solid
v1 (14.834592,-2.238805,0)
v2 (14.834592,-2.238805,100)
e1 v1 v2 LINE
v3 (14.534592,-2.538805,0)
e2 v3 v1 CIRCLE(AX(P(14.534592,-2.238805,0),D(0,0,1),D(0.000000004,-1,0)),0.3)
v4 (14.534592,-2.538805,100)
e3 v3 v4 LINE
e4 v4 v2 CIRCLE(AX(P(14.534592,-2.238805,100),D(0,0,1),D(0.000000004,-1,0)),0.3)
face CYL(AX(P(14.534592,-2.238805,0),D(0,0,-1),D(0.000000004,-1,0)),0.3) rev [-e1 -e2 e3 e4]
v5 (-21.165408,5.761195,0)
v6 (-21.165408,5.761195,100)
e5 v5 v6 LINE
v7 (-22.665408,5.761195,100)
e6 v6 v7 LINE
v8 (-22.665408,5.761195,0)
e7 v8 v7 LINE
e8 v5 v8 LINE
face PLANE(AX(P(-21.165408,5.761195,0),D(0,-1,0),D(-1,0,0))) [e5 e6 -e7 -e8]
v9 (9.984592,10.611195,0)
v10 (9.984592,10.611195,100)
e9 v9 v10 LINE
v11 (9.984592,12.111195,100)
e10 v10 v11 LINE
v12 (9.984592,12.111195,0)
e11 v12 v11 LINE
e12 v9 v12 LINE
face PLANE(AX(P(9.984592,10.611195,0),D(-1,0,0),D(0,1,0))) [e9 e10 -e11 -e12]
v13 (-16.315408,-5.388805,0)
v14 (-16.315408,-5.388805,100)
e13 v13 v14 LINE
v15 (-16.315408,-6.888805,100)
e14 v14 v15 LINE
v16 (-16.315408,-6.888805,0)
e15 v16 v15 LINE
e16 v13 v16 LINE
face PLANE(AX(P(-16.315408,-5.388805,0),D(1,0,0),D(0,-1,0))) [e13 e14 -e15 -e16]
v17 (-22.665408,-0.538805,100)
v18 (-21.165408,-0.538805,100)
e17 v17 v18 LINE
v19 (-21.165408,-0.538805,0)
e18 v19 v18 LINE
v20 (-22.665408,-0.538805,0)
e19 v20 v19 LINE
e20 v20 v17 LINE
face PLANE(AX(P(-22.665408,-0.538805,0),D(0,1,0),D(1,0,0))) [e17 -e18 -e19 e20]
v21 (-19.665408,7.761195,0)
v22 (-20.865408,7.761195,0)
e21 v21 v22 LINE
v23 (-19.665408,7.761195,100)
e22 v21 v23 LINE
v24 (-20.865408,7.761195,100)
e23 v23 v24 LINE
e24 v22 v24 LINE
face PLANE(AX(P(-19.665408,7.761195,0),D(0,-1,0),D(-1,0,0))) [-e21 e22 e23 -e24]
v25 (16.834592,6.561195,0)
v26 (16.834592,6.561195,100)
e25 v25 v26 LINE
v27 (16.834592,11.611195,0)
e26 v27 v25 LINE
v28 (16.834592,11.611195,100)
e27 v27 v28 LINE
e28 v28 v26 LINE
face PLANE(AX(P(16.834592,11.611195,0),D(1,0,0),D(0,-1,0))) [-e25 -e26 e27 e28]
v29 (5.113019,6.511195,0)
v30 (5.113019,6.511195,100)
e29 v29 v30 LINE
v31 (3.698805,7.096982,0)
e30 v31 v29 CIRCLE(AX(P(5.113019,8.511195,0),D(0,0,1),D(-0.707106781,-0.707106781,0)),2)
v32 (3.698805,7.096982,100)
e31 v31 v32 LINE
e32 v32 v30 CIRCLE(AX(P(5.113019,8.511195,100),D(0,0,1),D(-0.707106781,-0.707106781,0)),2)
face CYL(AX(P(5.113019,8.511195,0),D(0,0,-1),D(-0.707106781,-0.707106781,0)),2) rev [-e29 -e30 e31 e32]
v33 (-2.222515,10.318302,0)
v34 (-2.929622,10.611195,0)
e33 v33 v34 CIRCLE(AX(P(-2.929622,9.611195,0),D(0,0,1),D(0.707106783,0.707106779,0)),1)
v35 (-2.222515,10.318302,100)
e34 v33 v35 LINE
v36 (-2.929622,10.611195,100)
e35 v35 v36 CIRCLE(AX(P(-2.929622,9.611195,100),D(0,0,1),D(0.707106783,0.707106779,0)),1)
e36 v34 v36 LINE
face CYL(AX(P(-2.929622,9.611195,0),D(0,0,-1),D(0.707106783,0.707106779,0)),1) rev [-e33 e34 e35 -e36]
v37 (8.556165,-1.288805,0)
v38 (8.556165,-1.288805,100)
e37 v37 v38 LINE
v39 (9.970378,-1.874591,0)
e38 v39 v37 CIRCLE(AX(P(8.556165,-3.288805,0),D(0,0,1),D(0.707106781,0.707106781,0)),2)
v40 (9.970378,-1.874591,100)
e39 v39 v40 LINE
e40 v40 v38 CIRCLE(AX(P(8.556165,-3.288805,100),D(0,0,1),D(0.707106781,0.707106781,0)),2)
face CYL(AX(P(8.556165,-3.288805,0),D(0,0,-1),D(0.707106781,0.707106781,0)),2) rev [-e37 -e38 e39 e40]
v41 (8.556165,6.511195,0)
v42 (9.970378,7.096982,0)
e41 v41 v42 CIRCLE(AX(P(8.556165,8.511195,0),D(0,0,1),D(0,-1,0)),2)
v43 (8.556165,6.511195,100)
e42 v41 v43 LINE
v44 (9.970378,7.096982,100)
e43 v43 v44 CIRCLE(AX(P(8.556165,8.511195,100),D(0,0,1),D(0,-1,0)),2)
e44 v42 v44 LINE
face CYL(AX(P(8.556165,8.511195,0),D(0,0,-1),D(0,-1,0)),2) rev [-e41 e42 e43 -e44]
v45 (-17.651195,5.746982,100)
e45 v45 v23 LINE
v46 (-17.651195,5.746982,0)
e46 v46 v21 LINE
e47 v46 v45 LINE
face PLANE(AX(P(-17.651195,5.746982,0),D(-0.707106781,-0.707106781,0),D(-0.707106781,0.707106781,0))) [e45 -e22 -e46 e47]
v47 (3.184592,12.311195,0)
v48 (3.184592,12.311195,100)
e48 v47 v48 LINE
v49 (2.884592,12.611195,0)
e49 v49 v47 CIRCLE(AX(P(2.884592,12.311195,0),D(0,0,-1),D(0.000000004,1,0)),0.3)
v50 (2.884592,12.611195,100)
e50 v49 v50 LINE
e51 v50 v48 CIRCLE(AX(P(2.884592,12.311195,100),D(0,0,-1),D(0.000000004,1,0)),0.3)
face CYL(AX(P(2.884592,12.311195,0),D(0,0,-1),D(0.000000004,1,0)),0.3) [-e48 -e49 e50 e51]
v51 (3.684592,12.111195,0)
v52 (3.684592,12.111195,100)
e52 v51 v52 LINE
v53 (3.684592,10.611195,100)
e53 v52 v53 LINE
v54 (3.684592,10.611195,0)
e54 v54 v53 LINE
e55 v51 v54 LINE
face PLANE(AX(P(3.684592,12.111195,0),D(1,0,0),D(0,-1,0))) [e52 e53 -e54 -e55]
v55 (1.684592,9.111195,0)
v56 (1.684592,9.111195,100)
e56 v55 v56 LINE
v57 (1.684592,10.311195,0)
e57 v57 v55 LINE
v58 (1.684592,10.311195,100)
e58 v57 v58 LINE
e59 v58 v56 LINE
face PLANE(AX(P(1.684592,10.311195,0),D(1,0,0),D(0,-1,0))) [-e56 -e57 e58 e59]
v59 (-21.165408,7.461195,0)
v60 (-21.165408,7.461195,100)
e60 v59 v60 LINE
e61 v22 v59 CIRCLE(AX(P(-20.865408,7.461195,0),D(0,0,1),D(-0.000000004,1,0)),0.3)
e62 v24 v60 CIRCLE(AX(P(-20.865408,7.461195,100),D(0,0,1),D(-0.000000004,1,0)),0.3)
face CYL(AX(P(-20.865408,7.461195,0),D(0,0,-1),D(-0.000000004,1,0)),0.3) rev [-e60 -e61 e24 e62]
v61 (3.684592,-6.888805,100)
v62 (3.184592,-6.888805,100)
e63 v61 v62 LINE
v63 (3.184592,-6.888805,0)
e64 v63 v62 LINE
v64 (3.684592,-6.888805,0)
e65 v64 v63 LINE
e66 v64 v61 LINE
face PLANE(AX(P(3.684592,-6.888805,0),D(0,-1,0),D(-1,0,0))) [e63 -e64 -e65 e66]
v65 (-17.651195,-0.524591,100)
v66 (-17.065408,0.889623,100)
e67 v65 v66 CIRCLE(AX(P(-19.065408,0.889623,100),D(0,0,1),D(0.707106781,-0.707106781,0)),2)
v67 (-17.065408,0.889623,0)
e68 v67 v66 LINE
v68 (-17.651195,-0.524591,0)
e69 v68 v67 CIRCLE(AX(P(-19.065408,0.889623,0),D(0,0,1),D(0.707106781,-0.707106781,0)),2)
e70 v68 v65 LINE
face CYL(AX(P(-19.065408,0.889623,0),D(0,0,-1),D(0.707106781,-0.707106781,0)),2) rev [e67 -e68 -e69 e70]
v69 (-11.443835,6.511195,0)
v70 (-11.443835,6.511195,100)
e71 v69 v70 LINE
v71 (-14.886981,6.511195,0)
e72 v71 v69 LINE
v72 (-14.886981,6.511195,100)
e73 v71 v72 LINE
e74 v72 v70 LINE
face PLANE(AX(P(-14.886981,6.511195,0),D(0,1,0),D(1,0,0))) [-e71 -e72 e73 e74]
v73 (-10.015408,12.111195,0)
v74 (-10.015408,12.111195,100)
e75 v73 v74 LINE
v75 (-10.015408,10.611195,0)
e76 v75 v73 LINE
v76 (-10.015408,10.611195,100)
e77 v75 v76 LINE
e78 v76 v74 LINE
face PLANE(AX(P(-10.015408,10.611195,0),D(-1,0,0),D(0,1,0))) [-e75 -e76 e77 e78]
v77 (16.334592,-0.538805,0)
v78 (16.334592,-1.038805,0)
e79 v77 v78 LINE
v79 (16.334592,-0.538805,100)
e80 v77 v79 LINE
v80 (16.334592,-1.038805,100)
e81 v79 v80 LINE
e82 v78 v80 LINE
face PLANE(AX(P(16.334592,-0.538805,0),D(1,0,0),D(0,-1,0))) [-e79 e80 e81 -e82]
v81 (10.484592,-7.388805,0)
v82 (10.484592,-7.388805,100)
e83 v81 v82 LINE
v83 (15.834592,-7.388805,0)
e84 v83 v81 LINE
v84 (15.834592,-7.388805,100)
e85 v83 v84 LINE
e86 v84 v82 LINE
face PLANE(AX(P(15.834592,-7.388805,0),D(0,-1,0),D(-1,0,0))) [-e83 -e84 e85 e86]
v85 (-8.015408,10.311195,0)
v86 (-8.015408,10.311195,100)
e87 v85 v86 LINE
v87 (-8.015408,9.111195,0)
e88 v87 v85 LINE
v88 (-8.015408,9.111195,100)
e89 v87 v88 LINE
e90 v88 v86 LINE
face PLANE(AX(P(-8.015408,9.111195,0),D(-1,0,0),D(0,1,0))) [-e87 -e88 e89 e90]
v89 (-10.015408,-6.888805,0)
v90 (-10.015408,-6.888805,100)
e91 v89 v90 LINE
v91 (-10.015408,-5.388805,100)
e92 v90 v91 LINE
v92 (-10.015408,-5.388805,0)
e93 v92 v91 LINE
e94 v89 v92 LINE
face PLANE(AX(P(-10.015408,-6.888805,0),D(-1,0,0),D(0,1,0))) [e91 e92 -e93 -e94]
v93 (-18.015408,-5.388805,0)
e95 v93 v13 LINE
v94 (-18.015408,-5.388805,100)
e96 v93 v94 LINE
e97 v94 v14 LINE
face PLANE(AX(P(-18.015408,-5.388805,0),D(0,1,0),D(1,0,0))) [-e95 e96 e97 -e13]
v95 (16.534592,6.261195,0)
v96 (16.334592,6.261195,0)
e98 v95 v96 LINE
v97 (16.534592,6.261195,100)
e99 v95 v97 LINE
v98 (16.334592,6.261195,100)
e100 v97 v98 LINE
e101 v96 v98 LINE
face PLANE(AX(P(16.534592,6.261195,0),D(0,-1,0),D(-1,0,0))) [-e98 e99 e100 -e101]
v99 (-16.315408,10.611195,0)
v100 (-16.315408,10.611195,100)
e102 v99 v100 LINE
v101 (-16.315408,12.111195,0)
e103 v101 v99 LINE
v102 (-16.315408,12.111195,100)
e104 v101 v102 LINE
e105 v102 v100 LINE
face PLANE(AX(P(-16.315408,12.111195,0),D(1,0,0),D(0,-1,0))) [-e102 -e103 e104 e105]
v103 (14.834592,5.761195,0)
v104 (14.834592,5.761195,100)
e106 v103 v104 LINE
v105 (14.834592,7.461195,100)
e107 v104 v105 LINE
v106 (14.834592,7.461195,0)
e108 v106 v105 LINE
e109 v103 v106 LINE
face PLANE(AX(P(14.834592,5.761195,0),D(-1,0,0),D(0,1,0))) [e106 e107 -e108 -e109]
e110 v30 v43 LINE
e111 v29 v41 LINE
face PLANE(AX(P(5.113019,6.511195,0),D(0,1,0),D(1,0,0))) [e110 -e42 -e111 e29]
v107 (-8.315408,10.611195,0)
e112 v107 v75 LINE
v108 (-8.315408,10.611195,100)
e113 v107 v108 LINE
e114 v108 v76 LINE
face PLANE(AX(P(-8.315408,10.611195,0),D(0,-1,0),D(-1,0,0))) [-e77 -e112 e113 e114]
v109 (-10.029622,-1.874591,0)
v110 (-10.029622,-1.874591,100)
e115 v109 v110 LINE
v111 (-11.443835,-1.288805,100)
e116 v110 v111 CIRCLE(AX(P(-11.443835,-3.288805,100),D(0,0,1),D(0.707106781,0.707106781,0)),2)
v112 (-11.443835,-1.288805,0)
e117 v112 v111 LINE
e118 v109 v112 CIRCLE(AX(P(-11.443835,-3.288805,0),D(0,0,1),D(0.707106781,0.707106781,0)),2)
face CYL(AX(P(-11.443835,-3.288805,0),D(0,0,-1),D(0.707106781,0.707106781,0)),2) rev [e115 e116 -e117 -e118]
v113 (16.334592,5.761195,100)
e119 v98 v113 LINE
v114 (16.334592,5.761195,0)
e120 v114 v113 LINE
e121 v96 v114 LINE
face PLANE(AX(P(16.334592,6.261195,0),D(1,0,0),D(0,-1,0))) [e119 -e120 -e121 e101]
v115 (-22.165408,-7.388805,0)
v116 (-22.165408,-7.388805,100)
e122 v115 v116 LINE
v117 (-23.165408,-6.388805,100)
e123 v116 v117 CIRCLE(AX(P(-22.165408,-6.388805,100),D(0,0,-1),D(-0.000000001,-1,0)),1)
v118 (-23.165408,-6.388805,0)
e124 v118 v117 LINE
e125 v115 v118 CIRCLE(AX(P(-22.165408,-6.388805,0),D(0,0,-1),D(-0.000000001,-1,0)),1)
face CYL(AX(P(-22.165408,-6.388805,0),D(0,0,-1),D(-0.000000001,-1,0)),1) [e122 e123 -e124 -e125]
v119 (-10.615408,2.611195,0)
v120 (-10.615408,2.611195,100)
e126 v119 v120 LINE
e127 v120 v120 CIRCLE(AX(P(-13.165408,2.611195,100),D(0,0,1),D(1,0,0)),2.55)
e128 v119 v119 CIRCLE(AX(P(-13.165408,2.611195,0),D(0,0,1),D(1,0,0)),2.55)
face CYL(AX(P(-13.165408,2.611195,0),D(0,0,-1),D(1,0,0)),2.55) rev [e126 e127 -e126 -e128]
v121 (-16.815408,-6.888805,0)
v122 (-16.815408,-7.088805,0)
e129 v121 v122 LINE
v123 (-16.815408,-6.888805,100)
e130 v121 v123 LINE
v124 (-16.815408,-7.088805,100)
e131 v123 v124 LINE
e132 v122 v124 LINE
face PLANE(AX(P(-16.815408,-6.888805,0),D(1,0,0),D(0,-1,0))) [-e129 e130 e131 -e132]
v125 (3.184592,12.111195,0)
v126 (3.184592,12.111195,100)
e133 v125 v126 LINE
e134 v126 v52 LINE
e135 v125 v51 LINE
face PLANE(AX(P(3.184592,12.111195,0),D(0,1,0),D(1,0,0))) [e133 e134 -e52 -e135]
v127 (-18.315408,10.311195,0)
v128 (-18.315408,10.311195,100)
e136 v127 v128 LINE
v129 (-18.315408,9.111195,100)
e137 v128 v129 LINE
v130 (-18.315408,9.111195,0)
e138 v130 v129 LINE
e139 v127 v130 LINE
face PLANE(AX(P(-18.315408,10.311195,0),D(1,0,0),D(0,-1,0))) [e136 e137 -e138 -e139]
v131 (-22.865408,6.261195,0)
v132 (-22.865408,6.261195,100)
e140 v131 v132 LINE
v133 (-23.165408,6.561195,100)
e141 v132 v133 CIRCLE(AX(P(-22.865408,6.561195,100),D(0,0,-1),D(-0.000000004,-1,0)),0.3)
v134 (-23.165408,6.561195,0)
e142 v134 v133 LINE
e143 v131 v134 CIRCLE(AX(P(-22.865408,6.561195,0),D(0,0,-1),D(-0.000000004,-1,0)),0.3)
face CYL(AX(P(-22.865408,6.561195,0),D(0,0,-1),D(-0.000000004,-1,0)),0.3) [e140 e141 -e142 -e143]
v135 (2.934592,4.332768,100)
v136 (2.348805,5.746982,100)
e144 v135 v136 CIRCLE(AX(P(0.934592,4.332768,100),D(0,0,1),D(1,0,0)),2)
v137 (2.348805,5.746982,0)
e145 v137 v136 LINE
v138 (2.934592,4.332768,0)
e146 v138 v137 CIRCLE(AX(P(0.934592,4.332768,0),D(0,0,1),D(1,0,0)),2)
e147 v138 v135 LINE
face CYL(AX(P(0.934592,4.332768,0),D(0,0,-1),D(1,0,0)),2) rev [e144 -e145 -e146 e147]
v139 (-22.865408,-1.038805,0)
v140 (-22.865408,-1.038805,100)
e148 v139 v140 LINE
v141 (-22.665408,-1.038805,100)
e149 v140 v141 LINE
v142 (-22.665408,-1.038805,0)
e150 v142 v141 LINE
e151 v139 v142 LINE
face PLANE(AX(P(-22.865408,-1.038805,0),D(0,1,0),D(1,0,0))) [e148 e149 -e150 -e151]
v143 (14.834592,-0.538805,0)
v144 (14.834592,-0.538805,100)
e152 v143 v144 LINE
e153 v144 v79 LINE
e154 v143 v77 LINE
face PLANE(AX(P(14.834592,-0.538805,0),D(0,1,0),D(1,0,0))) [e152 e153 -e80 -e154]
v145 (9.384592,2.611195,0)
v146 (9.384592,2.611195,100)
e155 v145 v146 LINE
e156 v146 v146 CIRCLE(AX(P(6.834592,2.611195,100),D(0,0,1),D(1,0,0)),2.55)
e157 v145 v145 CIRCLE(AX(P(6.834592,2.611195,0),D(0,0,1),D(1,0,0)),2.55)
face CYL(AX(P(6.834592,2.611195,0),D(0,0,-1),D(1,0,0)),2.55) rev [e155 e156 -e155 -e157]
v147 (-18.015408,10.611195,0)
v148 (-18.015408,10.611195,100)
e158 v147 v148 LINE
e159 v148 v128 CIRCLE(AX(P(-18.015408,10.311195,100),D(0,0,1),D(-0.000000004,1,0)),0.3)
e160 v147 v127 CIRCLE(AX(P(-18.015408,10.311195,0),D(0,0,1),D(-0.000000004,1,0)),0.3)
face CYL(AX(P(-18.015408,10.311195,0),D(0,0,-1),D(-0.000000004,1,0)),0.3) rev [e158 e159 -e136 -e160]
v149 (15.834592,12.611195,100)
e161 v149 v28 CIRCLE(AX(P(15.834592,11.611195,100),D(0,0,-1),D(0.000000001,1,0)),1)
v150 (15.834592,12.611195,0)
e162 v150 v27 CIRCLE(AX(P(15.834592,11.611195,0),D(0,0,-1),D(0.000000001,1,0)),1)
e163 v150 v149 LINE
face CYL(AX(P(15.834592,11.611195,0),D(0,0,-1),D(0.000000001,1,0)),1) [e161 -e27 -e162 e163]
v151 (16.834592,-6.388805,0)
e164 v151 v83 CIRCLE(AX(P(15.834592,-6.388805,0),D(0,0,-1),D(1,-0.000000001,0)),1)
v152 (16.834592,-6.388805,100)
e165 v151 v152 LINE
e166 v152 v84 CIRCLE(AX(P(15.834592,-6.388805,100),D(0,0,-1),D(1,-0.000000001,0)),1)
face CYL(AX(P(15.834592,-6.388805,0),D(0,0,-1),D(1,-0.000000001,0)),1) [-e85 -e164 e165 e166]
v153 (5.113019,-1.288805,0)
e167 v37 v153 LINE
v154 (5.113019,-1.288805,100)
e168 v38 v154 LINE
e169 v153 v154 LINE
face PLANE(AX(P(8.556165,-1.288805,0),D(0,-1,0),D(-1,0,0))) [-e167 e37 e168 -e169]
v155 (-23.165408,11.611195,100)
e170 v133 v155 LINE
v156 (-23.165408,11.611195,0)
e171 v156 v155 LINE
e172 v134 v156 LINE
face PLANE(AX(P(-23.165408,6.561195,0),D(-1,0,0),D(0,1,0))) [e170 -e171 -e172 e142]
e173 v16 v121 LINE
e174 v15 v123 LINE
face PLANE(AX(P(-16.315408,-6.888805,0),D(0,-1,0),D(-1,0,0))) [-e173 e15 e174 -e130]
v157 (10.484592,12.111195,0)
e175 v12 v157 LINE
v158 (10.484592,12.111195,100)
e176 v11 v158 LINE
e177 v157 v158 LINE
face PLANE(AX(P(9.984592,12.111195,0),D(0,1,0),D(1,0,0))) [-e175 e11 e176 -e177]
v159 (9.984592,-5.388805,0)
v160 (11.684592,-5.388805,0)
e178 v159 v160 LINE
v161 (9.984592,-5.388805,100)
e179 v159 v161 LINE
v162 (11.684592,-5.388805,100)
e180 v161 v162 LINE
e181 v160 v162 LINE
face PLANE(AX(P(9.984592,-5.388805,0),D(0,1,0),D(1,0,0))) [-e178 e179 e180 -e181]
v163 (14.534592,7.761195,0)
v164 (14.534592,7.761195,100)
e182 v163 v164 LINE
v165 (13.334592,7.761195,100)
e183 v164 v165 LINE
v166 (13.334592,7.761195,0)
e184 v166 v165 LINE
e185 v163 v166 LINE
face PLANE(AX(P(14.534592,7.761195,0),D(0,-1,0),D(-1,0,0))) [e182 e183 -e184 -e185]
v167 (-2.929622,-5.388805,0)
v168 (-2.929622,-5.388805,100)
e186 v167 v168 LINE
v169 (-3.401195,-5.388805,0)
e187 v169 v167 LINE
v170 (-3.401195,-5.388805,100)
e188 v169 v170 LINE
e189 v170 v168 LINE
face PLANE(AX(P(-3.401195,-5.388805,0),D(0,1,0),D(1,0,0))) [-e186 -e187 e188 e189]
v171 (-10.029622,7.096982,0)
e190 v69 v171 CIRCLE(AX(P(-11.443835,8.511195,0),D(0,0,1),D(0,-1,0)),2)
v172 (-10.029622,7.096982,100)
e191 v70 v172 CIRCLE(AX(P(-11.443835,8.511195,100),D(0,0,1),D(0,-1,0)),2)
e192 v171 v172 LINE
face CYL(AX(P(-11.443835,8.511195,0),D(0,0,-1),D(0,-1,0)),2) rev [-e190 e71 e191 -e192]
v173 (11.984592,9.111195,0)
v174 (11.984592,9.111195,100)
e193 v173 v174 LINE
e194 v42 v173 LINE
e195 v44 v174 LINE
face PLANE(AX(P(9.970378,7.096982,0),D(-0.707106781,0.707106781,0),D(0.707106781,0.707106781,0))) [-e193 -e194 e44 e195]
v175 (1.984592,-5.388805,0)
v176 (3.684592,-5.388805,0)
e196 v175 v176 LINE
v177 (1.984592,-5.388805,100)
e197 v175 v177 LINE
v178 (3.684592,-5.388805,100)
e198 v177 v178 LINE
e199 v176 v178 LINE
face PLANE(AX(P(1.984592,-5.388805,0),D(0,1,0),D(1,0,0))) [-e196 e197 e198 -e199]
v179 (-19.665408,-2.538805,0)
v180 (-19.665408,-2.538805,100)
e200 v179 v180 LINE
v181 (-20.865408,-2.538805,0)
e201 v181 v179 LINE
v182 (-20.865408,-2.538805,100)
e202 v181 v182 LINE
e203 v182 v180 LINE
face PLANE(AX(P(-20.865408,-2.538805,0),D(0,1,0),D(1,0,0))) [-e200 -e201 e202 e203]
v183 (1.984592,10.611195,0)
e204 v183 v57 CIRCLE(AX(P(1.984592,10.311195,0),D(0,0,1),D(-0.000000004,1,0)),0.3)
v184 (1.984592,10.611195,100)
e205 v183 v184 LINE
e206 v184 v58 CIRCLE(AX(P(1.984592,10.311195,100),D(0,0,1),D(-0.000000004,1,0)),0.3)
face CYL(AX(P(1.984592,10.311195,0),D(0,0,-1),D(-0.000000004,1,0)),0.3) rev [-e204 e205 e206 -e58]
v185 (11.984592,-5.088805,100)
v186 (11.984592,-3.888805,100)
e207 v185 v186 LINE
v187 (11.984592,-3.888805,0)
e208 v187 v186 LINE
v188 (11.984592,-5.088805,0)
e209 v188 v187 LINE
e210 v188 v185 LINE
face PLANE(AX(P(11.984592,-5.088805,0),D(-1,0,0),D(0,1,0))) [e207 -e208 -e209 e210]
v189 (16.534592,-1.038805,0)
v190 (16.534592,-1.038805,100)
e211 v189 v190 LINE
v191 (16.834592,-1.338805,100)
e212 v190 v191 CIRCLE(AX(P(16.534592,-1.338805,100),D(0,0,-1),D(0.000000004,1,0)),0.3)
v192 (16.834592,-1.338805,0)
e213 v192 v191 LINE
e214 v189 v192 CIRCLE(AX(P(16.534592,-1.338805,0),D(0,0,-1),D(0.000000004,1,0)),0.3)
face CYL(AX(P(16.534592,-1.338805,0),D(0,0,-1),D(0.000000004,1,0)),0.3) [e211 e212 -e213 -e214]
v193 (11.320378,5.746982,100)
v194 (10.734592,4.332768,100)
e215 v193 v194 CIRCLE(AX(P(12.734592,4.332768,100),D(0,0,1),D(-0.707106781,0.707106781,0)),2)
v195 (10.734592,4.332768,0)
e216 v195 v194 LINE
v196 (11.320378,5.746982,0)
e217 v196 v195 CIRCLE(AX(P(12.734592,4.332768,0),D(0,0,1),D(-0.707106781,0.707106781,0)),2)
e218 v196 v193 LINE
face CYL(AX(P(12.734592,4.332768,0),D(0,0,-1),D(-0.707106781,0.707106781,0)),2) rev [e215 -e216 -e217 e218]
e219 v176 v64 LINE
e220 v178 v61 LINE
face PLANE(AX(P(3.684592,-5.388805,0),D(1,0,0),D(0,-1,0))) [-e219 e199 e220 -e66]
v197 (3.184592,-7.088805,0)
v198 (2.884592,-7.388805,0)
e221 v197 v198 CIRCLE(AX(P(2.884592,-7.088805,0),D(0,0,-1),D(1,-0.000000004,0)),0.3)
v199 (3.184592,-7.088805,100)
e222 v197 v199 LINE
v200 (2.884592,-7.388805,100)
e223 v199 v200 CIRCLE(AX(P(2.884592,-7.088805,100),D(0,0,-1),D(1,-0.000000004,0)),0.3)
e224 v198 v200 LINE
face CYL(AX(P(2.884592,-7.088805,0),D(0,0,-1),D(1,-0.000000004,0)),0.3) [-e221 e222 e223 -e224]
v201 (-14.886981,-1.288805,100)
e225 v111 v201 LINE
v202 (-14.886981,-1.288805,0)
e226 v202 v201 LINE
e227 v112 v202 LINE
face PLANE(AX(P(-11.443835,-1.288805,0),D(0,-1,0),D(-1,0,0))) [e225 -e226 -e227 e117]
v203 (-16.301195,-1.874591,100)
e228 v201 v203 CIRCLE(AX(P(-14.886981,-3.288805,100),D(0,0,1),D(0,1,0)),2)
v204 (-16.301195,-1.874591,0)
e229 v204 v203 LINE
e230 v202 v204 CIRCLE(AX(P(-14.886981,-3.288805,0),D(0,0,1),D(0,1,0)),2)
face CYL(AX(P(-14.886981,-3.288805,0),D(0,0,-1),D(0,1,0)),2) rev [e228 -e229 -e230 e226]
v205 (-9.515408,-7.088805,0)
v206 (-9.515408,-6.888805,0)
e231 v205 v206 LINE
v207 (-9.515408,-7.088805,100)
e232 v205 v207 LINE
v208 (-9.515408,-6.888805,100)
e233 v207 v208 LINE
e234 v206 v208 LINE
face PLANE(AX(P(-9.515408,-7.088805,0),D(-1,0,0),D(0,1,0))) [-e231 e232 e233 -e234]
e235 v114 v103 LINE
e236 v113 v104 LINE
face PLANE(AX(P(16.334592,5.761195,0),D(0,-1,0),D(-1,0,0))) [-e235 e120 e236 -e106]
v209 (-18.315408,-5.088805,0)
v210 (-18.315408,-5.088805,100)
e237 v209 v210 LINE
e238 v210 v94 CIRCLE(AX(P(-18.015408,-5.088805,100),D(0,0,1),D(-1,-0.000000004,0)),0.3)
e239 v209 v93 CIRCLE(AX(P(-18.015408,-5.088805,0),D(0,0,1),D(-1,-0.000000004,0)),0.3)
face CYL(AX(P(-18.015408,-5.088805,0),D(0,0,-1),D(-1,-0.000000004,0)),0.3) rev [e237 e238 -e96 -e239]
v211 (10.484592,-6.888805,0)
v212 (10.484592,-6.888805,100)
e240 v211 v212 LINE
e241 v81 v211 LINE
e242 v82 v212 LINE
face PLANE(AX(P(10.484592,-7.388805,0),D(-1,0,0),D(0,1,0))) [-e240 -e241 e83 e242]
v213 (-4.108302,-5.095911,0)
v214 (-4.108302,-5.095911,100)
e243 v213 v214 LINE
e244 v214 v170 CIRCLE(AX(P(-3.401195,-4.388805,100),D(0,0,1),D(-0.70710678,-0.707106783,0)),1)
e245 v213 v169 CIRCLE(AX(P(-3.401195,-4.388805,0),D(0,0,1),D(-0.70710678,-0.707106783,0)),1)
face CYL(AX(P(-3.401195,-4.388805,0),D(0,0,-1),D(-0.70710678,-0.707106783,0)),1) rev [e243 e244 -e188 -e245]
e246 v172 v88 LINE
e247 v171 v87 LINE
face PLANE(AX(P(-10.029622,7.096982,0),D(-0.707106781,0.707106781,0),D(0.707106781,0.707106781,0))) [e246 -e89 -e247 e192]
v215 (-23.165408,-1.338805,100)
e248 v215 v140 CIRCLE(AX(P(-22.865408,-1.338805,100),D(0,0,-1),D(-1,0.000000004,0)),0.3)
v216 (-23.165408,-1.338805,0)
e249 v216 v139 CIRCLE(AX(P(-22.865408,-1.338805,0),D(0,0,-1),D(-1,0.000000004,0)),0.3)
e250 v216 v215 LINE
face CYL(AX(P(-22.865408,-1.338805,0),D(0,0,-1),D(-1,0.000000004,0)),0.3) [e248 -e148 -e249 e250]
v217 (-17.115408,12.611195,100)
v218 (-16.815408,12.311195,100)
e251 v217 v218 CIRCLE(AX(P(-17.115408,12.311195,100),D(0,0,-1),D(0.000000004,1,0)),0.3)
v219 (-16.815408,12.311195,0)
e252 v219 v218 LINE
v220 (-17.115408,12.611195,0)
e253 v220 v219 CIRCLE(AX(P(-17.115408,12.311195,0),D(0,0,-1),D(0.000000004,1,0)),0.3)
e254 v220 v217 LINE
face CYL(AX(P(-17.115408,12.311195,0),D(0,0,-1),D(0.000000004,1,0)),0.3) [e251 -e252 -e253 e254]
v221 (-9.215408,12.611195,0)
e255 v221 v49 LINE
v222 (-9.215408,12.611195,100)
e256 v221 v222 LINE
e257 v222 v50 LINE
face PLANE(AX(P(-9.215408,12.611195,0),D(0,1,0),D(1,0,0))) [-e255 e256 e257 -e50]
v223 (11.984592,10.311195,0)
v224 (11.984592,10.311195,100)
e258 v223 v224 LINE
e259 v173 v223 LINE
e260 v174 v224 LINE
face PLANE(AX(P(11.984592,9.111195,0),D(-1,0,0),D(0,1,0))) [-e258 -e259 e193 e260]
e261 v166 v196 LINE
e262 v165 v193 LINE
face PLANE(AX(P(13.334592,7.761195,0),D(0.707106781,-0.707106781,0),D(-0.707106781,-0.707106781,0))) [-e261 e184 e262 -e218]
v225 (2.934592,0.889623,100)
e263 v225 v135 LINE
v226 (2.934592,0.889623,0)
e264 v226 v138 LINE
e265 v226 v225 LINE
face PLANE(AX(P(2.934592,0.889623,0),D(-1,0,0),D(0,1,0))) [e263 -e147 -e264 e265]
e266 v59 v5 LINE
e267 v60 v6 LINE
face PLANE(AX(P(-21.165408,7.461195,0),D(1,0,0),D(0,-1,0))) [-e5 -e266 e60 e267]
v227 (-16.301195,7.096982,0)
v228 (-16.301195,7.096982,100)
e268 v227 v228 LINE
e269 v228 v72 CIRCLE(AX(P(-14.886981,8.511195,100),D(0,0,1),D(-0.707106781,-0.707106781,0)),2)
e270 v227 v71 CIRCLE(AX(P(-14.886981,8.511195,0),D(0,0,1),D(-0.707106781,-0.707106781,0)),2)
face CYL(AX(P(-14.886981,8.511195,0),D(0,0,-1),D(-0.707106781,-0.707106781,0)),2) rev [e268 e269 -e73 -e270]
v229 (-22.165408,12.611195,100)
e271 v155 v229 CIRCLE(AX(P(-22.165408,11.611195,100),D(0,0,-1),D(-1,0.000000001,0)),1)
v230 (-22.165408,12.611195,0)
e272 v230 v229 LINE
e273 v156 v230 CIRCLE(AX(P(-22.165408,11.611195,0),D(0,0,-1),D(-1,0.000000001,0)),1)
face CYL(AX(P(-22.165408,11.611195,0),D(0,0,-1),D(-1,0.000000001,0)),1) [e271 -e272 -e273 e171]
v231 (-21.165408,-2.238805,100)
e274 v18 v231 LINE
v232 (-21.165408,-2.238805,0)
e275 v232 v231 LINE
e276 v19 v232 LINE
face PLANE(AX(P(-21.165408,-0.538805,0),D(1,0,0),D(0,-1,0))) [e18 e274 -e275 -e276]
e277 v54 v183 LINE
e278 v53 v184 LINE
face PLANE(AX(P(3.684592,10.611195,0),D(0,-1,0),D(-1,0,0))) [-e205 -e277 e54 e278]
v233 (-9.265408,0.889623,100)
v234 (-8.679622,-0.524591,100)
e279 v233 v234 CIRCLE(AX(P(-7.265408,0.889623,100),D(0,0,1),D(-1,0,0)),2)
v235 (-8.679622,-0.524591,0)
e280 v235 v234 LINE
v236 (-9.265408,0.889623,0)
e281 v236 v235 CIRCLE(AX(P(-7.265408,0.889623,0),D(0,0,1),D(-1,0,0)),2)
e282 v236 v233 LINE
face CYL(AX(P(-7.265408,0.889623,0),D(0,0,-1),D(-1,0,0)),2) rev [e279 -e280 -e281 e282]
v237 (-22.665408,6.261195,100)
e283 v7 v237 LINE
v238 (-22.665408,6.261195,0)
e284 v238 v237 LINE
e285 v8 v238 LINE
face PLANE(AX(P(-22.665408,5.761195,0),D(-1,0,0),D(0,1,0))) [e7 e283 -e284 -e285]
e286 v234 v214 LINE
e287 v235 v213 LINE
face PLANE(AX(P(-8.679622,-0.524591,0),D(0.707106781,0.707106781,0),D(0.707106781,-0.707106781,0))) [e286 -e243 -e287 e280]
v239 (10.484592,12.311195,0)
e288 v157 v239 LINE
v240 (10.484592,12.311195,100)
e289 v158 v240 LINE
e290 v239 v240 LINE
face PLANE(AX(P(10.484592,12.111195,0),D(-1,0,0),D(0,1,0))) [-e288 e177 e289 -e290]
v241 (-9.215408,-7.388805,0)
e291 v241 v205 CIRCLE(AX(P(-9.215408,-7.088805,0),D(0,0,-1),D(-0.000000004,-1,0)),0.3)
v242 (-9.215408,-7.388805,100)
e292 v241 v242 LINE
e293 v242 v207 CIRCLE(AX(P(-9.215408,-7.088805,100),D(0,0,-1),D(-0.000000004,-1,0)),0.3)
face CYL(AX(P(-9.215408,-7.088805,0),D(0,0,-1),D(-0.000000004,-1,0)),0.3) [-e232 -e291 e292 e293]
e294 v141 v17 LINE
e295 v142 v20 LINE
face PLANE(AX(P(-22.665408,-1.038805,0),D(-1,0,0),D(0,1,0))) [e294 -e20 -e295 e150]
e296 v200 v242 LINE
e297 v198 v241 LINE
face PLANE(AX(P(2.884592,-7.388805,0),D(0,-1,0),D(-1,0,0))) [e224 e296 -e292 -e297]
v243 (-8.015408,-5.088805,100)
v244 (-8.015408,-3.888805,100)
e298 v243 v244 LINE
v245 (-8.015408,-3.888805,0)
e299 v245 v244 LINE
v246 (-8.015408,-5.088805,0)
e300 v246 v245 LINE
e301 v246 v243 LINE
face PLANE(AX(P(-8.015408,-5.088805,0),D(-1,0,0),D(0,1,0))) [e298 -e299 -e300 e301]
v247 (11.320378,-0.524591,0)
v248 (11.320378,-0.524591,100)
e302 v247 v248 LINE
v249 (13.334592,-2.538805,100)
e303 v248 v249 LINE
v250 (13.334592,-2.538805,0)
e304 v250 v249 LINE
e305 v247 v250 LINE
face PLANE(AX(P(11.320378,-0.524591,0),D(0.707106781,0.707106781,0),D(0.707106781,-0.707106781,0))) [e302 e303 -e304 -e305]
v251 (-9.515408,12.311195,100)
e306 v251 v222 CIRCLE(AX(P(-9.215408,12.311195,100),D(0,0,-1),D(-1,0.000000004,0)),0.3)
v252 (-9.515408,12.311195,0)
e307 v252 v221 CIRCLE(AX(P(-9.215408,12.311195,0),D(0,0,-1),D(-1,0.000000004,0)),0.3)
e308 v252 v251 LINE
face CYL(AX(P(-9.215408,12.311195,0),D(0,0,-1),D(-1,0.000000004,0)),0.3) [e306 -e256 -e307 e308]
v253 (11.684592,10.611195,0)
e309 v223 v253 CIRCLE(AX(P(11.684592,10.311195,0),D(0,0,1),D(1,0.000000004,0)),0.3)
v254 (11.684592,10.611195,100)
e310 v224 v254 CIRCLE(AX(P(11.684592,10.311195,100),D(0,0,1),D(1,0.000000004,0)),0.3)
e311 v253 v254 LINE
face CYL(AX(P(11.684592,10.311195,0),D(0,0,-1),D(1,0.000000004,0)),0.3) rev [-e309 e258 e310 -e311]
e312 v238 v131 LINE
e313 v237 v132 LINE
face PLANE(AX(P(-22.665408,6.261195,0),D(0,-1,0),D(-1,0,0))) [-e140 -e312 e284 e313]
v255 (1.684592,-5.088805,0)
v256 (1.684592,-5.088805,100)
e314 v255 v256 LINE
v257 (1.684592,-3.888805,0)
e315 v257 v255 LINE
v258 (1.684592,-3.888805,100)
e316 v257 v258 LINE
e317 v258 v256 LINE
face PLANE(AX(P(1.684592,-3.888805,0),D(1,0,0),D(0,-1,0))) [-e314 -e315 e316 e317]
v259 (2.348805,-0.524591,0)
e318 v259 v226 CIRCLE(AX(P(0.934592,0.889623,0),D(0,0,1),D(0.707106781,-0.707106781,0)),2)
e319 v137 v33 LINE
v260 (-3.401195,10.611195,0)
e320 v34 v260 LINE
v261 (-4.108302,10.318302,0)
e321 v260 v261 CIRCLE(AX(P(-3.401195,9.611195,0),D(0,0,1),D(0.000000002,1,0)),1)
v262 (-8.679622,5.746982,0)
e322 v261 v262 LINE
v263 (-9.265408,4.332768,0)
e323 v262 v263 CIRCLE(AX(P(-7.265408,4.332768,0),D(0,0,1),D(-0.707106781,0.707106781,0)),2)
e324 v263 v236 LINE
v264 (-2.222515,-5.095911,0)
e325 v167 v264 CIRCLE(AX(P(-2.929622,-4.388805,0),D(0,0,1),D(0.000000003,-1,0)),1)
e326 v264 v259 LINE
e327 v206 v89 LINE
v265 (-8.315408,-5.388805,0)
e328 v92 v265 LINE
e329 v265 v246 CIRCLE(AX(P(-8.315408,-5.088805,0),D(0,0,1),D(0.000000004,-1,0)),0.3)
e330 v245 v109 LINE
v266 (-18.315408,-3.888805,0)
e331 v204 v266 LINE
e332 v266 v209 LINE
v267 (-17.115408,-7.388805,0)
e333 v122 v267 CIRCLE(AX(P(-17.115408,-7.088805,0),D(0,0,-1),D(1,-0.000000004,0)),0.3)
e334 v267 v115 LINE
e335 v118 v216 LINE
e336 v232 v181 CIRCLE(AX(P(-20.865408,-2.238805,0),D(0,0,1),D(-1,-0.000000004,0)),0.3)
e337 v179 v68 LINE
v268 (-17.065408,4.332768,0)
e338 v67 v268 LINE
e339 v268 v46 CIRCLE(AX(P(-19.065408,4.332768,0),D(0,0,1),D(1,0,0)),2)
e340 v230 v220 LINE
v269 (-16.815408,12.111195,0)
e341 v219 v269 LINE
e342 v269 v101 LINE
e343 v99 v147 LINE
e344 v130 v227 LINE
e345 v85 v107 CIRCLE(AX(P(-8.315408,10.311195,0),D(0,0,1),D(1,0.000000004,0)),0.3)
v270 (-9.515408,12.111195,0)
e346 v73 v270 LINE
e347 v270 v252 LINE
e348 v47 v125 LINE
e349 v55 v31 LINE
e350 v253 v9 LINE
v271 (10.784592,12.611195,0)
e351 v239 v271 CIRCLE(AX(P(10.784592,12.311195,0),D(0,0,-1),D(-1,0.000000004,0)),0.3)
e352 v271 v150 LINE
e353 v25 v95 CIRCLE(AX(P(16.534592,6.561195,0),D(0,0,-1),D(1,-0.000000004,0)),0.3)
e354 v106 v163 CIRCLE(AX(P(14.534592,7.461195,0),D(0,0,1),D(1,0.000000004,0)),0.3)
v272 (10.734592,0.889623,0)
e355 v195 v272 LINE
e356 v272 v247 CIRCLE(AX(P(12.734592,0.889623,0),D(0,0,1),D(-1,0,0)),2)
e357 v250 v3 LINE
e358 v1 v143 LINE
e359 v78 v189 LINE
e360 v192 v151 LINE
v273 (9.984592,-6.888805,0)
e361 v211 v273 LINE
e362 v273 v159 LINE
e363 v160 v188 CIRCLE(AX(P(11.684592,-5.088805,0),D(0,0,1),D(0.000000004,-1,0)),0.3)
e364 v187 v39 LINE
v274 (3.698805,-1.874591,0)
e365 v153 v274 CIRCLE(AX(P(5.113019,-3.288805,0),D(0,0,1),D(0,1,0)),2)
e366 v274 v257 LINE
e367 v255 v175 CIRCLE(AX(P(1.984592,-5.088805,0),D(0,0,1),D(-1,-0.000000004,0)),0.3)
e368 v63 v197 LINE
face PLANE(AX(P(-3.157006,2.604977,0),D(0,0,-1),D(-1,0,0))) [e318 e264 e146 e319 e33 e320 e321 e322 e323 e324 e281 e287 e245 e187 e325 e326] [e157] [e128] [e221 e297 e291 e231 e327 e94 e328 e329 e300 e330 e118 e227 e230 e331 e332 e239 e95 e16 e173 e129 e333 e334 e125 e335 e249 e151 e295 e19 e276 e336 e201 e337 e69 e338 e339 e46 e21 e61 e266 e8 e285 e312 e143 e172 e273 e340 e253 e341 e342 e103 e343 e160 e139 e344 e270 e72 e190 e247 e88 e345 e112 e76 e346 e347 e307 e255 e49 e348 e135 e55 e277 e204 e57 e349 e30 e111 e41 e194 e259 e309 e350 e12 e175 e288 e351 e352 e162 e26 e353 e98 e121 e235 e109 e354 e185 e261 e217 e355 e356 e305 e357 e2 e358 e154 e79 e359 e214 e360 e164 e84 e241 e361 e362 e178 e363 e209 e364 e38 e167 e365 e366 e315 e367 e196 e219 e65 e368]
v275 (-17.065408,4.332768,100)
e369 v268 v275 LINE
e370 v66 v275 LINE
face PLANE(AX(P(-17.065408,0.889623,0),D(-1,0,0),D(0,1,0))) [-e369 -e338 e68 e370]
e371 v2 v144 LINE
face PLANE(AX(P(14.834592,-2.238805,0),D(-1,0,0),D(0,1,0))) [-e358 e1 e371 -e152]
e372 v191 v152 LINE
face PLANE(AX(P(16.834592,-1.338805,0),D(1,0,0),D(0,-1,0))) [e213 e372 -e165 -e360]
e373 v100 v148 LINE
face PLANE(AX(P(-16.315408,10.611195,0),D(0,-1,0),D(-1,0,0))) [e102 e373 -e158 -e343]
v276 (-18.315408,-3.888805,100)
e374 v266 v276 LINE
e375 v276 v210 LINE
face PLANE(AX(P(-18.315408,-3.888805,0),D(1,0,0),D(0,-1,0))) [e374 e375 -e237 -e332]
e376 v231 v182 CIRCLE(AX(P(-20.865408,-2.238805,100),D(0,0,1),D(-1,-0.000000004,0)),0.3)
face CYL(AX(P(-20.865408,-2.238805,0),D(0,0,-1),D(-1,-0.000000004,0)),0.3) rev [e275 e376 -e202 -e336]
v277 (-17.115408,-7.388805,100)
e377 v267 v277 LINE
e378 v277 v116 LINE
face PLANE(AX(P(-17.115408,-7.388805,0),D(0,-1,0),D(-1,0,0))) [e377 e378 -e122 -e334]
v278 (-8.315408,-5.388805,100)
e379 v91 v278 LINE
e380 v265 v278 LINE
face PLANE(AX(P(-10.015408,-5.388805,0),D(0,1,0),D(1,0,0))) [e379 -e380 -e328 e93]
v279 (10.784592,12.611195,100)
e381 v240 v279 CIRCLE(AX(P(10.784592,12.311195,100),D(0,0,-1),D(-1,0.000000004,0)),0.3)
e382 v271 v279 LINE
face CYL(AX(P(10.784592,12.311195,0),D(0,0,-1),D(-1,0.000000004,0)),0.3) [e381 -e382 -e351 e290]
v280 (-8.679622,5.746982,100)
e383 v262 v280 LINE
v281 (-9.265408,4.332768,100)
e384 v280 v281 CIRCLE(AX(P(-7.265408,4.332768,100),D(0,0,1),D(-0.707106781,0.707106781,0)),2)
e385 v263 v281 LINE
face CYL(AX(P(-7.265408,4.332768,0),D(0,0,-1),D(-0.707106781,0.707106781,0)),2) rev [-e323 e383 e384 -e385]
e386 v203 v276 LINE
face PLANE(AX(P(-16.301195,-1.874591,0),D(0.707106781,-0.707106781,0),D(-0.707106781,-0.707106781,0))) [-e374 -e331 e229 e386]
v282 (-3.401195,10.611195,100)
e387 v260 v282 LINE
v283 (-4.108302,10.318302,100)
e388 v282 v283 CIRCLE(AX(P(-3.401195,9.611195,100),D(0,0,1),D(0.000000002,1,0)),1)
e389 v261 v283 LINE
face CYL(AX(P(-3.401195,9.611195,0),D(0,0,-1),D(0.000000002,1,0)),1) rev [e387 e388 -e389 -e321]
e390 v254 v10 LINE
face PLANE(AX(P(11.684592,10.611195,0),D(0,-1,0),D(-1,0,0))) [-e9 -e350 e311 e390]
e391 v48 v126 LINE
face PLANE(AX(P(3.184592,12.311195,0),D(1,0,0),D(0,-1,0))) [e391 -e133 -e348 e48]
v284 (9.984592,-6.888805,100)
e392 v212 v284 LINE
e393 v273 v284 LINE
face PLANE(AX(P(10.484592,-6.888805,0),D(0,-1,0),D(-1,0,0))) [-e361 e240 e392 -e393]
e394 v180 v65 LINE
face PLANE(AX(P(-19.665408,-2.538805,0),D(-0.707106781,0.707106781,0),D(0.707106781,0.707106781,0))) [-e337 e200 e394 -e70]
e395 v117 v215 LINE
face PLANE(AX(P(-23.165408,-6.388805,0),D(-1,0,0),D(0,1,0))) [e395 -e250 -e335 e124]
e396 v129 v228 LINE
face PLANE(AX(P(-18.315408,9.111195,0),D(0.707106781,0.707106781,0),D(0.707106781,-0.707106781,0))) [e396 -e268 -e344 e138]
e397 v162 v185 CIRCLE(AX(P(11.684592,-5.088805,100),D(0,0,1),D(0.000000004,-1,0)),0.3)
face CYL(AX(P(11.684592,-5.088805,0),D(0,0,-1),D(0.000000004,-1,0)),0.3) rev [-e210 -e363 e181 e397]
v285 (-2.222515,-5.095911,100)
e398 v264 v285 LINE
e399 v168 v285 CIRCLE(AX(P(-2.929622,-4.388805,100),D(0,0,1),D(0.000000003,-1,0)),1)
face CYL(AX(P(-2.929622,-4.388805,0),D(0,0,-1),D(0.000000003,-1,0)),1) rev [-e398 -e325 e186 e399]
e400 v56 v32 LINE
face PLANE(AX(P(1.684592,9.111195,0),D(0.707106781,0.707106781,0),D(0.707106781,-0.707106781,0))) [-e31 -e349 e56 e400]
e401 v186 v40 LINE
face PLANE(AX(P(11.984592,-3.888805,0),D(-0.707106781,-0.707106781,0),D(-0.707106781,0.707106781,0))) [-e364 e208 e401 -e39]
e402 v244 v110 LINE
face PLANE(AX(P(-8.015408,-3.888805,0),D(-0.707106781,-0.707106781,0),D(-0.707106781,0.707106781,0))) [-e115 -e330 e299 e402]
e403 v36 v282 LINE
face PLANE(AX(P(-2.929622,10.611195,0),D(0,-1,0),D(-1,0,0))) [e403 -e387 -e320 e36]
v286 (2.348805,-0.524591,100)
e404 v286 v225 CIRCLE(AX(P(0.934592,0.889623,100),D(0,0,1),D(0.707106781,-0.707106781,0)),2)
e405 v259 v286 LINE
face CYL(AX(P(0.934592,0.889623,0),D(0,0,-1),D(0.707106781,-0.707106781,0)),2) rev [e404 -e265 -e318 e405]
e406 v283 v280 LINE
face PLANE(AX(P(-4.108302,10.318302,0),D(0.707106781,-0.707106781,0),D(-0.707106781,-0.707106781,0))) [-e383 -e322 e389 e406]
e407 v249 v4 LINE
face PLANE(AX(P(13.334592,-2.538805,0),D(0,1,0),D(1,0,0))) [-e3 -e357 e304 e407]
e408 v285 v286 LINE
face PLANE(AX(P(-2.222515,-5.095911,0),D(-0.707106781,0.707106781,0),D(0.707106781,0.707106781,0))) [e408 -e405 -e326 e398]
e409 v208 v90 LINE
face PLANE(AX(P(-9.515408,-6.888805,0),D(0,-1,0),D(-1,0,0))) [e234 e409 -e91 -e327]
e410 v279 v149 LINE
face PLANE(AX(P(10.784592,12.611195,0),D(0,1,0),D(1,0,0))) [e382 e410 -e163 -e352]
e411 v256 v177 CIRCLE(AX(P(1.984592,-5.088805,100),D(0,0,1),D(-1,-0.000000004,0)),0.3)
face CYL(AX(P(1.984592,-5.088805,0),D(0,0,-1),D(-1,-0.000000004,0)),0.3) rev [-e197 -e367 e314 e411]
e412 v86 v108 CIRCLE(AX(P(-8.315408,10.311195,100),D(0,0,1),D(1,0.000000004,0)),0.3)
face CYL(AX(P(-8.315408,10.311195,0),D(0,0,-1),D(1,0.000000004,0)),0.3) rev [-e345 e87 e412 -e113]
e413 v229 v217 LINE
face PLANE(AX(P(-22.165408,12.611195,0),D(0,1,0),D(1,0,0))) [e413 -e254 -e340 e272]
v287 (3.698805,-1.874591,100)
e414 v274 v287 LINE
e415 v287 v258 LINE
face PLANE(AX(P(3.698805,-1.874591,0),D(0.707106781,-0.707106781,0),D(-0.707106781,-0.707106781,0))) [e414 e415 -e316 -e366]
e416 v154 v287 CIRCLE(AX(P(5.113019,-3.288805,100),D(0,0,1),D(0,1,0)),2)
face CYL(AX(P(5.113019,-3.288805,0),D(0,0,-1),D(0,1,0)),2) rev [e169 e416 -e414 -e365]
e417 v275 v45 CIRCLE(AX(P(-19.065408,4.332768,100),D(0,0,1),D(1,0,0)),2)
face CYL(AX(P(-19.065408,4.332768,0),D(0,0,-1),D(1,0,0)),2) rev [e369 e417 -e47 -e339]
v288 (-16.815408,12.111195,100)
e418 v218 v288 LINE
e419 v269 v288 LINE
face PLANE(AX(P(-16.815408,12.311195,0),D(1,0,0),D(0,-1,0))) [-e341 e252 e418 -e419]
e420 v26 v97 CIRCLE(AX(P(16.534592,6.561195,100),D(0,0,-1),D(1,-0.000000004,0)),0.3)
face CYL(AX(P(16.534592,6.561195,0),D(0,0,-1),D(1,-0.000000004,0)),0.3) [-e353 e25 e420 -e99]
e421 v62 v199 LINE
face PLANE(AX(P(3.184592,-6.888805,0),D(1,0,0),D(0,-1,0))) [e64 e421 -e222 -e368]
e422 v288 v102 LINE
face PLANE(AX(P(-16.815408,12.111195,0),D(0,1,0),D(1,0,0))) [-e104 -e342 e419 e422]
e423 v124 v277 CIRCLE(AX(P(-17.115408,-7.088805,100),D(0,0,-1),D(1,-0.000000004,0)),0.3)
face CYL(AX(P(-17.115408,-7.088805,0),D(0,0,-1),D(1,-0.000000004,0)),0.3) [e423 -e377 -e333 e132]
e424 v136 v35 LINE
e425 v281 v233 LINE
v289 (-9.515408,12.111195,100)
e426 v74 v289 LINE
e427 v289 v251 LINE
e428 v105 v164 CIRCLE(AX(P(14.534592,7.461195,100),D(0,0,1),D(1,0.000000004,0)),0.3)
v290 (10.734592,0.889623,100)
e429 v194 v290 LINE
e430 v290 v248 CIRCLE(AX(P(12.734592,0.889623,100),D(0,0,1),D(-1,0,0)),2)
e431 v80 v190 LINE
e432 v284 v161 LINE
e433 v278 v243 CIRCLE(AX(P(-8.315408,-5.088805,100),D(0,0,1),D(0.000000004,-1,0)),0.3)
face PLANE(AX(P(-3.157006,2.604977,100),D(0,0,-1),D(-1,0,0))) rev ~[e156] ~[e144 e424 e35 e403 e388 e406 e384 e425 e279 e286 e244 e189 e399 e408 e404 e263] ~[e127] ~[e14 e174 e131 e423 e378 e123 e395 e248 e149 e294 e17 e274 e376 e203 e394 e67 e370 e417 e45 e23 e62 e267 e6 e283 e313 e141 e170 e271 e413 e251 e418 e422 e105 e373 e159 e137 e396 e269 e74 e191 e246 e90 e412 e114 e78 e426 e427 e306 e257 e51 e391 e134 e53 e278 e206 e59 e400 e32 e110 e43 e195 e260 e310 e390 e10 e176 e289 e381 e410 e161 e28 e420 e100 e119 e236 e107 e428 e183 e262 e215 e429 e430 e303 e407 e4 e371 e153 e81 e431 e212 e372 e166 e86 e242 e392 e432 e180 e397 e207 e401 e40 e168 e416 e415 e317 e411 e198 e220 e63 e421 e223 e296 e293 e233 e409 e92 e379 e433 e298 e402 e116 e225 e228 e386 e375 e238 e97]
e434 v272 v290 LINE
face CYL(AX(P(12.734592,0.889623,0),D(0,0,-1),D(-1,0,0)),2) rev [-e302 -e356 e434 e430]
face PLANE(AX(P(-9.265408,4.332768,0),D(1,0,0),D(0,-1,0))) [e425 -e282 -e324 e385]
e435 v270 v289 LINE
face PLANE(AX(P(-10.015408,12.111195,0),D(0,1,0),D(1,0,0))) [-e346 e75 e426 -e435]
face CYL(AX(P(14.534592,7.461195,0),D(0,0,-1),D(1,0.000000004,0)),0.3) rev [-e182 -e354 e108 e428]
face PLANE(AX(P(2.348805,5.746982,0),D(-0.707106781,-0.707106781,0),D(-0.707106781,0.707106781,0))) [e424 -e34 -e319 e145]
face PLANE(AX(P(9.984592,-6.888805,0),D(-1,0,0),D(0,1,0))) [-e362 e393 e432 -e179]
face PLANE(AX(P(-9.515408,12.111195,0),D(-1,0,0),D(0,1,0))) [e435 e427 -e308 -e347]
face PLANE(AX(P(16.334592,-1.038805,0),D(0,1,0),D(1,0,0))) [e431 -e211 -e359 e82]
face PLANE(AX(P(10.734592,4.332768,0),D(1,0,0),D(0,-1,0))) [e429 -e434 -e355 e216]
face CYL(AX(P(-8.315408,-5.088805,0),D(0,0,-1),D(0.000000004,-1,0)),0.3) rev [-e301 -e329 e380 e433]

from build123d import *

# Parameters (mm, degrees)
SKETCH_1_R      = 2.55
EXTRUDE_1_DEPTH = 100


with BuildPart() as part:
    # 草图1 → 凸台-拉伸1 (new body)
    with BuildSketch(Plane.XY):
        with BuildLine():
            Line((-23.165408345, -6.388804564), (-23.165408345, -1.338804564))
            ThreePointArc((-23.165408345, -1.338804564), (-23.077540379, -1.12667253), (-22.865408345, -1.038804564))
            Line((-22.865408345, -1.038804564), (-22.665408345, -1.038804564))
            Line((-22.665408345, -1.038804564), (-22.665408345, -0.538804564))
            Line((-22.665408345, -0.538804564), (-21.165408345, -0.538804564))
            Line((-21.165408345, -0.538804564), (-21.165408345, -2.238804564))
            ThreePointArc((-21.165408345, -2.238804564), (-21.077540379, -2.450936598), (-20.865408345, -2.538804564))
            Line((-20.865408345, -2.538804564), (-19.665408345, -2.538804564))
            Line((-19.665408345, -2.538804564), (-17.651194783, -0.524591002))
            ThreePointArc((-17.651194783, -0.524591002), (-17.21764928, 0.124255696), (-17.065408345, 0.889622561))
            Line((-17.065408345, 0.889622561), (-17.065408345, 4.332768311))
            ThreePointArc((-17.065408345, 4.332768311), (-17.21764928, 5.098135176), (-17.651194783, 5.746981874))
            Line((-17.651194783, 5.746981874), (-19.665408345, 7.761195436))
            Line((-19.665408345, 7.761195436), (-20.865408345, 7.761195436))
            ThreePointArc((-20.865408345, 7.761195436), (-21.077540379, 7.67332747), (-21.165408345, 7.461195436))
            Line((-21.165408345, 7.461195436), (-21.165408345, 5.761195436))
            Line((-21.165408345, 5.761195436), (-22.665408345, 5.761195436))
            Line((-22.665408345, 5.761195436), (-22.665408345, 6.261195436))
            Line((-22.665408345, 6.261195436), (-22.865408345, 6.261195436))
            ThreePointArc((-22.865408345, 6.261195436), (-23.077540379, 6.349063402), (-23.165408345, 6.561195436))
            Line((-23.165408345, 6.561195436), (-23.165408345, 11.611195436))
            ThreePointArc((-23.165408345, 11.611195436), (-22.872515126, 12.318302217), (-22.165408345, 12.611195436))
            Line((-22.165408345, 12.611195436), (-17.115408345, 12.611195436))
            ThreePointArc((-17.115408345, 12.611195436), (-16.903276311, 12.52332747), (-16.815408345, 12.311195436))
            Line((-16.815408345, 12.311195436), (-16.815408345, 12.111195436))
            Line((-16.815408345, 12.111195436), (-16.315408345, 12.111195436))
            Line((-16.315408345, 12.111195436), (-16.315408345, 10.611195436))
            Line((-16.315408345, 10.611195436), (-18.015408345, 10.611195436))
            ThreePointArc((-18.015408345, 10.611195436), (-18.227540379, 10.52332747), (-18.315408345, 10.311195436))
            Line((-18.315408345, 10.311195436), (-18.315408345, 9.111195436))
            Line((-18.315408345, 9.111195436), (-16.301194783, 7.096981874))
            ThreePointArc((-16.301194783, 7.096981874), (-15.652348085, 6.663436371), (-14.88698122, 6.511195436))
            Line((-14.88698122, 6.511195436), (-11.44383547, 6.511195436))
            ThreePointArc((-11.44383547, 6.511195436), (-10.678468605, 6.663436371), (-10.029621907, 7.096981874))
            Line((-10.029621907, 7.096981874), (-8.015408345, 9.111195436))
            Line((-8.015408345, 9.111195436), (-8.015408345, 10.311195436))
            ThreePointArc((-8.015408345, 10.311195436), (-8.103276311, 10.52332747), (-8.315408345, 10.611195436))
            Line((-8.315408345, 10.611195436), (-10.015408345, 10.611195436))
            Line((-10.015408345, 10.611195436), (-10.015408345, 12.111195436))
            Line((-10.015408345, 12.111195436), (-9.515408345, 12.111195436))
            Line((-9.515408345, 12.111195436), (-9.515408345, 12.311195436))
            ThreePointArc((-9.515408345, 12.311195436), (-9.427540379, 12.52332747), (-9.215408345, 12.611195436))
            Line((-9.215408345, 12.611195436), (2.884591655, 12.611195436))
            ThreePointArc((2.884591655, 12.611195436), (3.096723689, 12.52332747), (3.184591655, 12.311195436))
            Line((3.184591655, 12.311195436), (3.184591655, 12.111195436))
            Line((3.184591655, 12.111195436), (3.684591655, 12.111195436))
            Line((3.684591655, 12.111195436), (3.684591655, 10.611195436))
            Line((3.684591655, 10.611195436), (1.984591655, 10.611195436))
            ThreePointArc((1.984591655, 10.611195436), (1.772459621, 10.52332747), (1.684591655, 10.311195436))
            Line((1.684591655, 10.311195436), (1.684591655, 9.111195436))
            Line((1.684591655, 9.111195436), (3.698805217, 7.096981874))
            ThreePointArc((3.698805217, 7.096981874), (4.347651915, 6.663436371), (5.11301878, 6.511195436))
            Line((5.11301878, 6.511195436), (8.55616453, 6.511195436))
            ThreePointArc((8.55616453, 6.511195436), (9.321531395, 6.663436371), (9.970378093, 7.096981874))
            Line((9.970378093, 7.096981874), (11.984591655, 9.111195436))
            Line((11.984591655, 9.111195436), (11.984591655, 10.311195436))
            ThreePointArc((11.984591655, 10.311195436), (11.896723689, 10.52332747), (11.684591655, 10.611195436))
            Line((11.684591655, 10.611195436), (9.984591655, 10.611195436))
            Line((9.984591655, 10.611195436), (9.984591655, 12.111195436))
            Line((9.984591655, 12.111195436), (10.484591655, 12.111195436))
            Line((10.484591655, 12.111195436), (10.484591655, 12.311195436))
            ThreePointArc((10.484591655, 12.311195436), (10.572459621, 12.52332747), (10.784591655, 12.611195436))
            Line((10.784591655, 12.611195436), (15.834591655, 12.611195436))
            ThreePointArc((15.834591655, 12.611195436), (16.541698436, 12.318302217), (16.834591655, 11.611195436))
            Line((16.834591655, 11.611195436), (16.834591655, 6.561195436))
            ThreePointArc((16.834591655, 6.561195436), (16.746723689, 6.349063402), (16.534591655, 6.261195436))
            Line((16.534591655, 6.261195436), (16.334591655, 6.261195436))
            Line((16.334591655, 6.261195436), (16.334591655, 5.761195436))
            Line((16.334591655, 5.761195436), (14.834591655, 5.761195436))
            Line((14.834591655, 5.761195436), (14.834591655, 7.461195436))
            ThreePointArc((14.834591655, 7.461195436), (14.746723689, 7.67332747), (14.534591655, 7.761195436))
            Line((14.534591655, 7.761195436), (13.334591655, 7.761195436))
            Line((13.334591655, 7.761195436), (11.320378093, 5.746981874))
            ThreePointArc((11.320378093, 5.746981874), (10.88683259, 5.098135176), (10.734591655, 4.332768311))
            Line((10.734591655, 4.332768311), (10.734591655, 0.889622561))
            ThreePointArc((10.734591655, 0.889622561), (10.88683259, 0.124255696), (11.320378093, -0.524591002))
            Line((11.320378093, -0.524591002), (13.334591655, -2.538804564))
            Line((13.334591655, -2.538804564), (14.534591655, -2.538804564))
            ThreePointArc((14.534591655, -2.538804564), (14.746723689, -2.450936598), (14.834591655, -2.238804564))
            Line((14.834591655, -2.238804564), (14.834591655, -0.538804564))
            Line((14.834591655, -0.538804564), (16.334591655, -0.538804564))
            Line((16.334591655, -0.538804564), (16.334591655, -1.038804564))
            Line((16.334591655, -1.038804564), (16.534591655, -1.038804564))
            ThreePointArc((16.534591655, -1.038804564), (16.746723689, -1.12667253), (16.834591655, -1.338804564))
            Line((16.834591655, -1.338804564), (16.834591655, -6.388804564))
            ThreePointArc((16.834591655, -6.388804564), (16.541698436, -7.095911345), (15.834591655, -7.388804564))
            Line((15.834591655, -7.388804564), (10.484591655, -7.388804564))
            Line((10.484591655, -7.388804564), (10.484591655, -6.888804564))
            Line((10.484591655, -6.888804564), (9.984591655, -6.888804564))
            Line((9.984591655, -6.888804564), (9.984591655, -5.388804564))
            Line((9.984591655, -5.388804564), (11.684591655, -5.388804564))
            ThreePointArc((11.684591655, -5.388804564), (11.896723689, -5.300936598), (11.984591655, -5.088804564))
            Line((11.984591655, -5.088804564), (11.984591655, -3.888804564))
            Line((11.984591655, -3.888804564), (9.970378093, -1.874591002))
            ThreePointArc((9.970378093, -1.874591002), (9.321531395, -1.441045499), (8.55616453, -1.288804564))
            Line((8.55616453, -1.288804564), (5.11301878, -1.288804564))
            ThreePointArc((5.11301878, -1.288804564), (4.347651915, -1.441045499), (3.698805217, -1.874591002))
            Line((3.698805217, -1.874591002), (1.684591655, -3.888804564))
            Line((1.684591655, -3.888804564), (1.684591655, -5.088804564))
            ThreePointArc((1.684591655, -5.088804564), (1.772459621, -5.300936598), (1.984591655, -5.388804564))
            Line((1.984591655, -5.388804564), (3.684591655, -5.388804564))
            Line((3.684591655, -5.388804564), (3.684591655, -6.888804564))
            Line((3.684591655, -6.888804564), (3.184591655, -6.888804564))
            Line((3.184591655, -6.888804564), (3.184591655, -7.088804564))
            ThreePointArc((3.184591655, -7.088804564), (3.096723689, -7.300936598), (2.884591655, -7.388804564))
            Line((2.884591655, -7.388804564), (-3.165408345, -7.388804564))
            Line((-3.165408345, -7.388804564), (-9.215408345, -7.388804564))
            ThreePointArc((-9.215408345, -7.388804564), (-9.427540379, -7.300936598), (-9.515408345, -7.088804564))
            Line((-9.515408345, -7.088804564), (-9.515408345, -6.888804564))
            Line((-9.515408345, -6.888804564), (-10.015408345, -6.888804564))
            Line((-10.015408345, -6.888804564), (-10.015408345, -5.388804564))
            Line((-10.015408345, -5.388804564), (-8.315408345, -5.388804564))
            ThreePointArc((-8.315408345, -5.388804564), (-8.103276311, -5.300936598), (-8.015408345, -5.088804564))
            Line((-8.015408345, -5.088804564), (-8.015408345, -3.888804564))
            Line((-8.015408345, -3.888804564), (-10.029621907, -1.874591002))
            ThreePointArc((-10.029621907, -1.874591002), (-10.678468605, -1.441045499), (-11.44383547, -1.288804564))
            Line((-11.44383547, -1.288804564), (-14.88698122, -1.288804564))
            ThreePointArc((-14.88698122, -1.288804564), (-15.652348085, -1.441045499), (-16.301194783, -1.874591002))
            Line((-16.301194783, -1.874591002), (-18.315408345, -3.888804564))
            Line((-18.315408345, -3.888804564), (-18.315408345, -5.088804564))
            ThreePointArc((-18.315408345, -5.088804564), (-18.227540379, -5.300936598), (-18.015408345, -5.388804564))
            Line((-18.015408345, -5.388804564), (-16.315408345, -5.388804564))
            Line((-16.315408345, -5.388804564), (-16.315408345, -6.888804564))
            Line((-16.315408345, -6.888804564), (-16.815408345, -6.888804564))
            Line((-16.815408345, -6.888804564), (-16.815408345, -7.088804564))
            ThreePointArc((-16.815408345, -7.088804564), (-16.903276311, -7.300936598), (-17.115408345, -7.388804564))
            Line((-17.115408345, -7.388804564), (-22.165408345, -7.388804564))
            ThreePointArc((-22.165408345, -7.388804564), (-22.872515126, -7.095911345), (-23.165408345, -6.388804564))
        make_face()
        with Locations((-13.165408345, 2.611195436)):
            Circle(SKETCH_1_R, mode=Mode.SUBTRACT)
        with Locations((6.834591655, 2.611195436)):
            Circle(SKETCH_1_R, mode=Mode.SUBTRACT)
        with BuildLine():
            Line((-9.265408345, 4.332768311), (-9.265408345, 0.889622561))
            ThreePointArc((-9.265408345, 0.889622561), (-9.11316741, 0.124255696), (-8.679621907, -0.524591002))
            Line((-8.679621907, -0.524591002), (-6.665408345, -2.538804564))
            Line((-6.665408345, -2.538804564), (-4.108301564, -5.095911345))
            ThreePointArc((-4.108301564, -5.095911345), (-3.783878215, -5.312684096), (-3.401194783, -5.388804564))
            Line((-3.401194783, -5.388804564), (-2.929621907, -5.388804564))
            ThreePointArc((-2.929621907, -5.388804564), (-2.546938475, -5.312684096), (-2.222515126, -5.095911345))
            Line((-2.222515126, -5.095911345), (0.334591655, -2.538804564))
            Line((0.334591655, -2.538804564), (2.348805217, -0.524591002))
            ThreePointArc((2.348805217, -0.524591002), (2.78235072, 0.124255696), (2.934591655, 0.889622561))
            Line((2.934591655, 0.889622561), (2.934591655, 4.332768311))
            ThreePointArc((2.934591655, 4.332768311), (2.78235072, 5.098135176), (2.348805217, 5.746981874))
            Line((2.348805217, 5.746981874), (0.334591655, 7.761195436))
            Line((0.334591655, 7.761195436), (-2.222515126, 10.318302217))
            ThreePointArc((-2.222515126, 10.318302217), (-2.546938475, 10.535074969), (-2.929621907, 10.611195436))
            Line((-2.929621907, 10.611195436), (-3.401194783, 10.611195436))
            ThreePointArc((-3.401194783, 10.611195436), (-3.783878215, 10.535074969), (-4.108301564, 10.318302217))
            Line((-4.108301564, 10.318302217), (-6.665408345, 7.761195436))
            Line((-6.665408345, 7.761195436), (-8.679621907, 5.746981874))
            ThreePointArc((-8.679621907, 5.746981874), (-9.11316741, 5.098135176), (-9.265408345, 4.332768311))
        make_face(mode=Mode.SUBTRACT)
    extrude(amount=EXTRUDE_1_DEPTH)


solid = part.part
